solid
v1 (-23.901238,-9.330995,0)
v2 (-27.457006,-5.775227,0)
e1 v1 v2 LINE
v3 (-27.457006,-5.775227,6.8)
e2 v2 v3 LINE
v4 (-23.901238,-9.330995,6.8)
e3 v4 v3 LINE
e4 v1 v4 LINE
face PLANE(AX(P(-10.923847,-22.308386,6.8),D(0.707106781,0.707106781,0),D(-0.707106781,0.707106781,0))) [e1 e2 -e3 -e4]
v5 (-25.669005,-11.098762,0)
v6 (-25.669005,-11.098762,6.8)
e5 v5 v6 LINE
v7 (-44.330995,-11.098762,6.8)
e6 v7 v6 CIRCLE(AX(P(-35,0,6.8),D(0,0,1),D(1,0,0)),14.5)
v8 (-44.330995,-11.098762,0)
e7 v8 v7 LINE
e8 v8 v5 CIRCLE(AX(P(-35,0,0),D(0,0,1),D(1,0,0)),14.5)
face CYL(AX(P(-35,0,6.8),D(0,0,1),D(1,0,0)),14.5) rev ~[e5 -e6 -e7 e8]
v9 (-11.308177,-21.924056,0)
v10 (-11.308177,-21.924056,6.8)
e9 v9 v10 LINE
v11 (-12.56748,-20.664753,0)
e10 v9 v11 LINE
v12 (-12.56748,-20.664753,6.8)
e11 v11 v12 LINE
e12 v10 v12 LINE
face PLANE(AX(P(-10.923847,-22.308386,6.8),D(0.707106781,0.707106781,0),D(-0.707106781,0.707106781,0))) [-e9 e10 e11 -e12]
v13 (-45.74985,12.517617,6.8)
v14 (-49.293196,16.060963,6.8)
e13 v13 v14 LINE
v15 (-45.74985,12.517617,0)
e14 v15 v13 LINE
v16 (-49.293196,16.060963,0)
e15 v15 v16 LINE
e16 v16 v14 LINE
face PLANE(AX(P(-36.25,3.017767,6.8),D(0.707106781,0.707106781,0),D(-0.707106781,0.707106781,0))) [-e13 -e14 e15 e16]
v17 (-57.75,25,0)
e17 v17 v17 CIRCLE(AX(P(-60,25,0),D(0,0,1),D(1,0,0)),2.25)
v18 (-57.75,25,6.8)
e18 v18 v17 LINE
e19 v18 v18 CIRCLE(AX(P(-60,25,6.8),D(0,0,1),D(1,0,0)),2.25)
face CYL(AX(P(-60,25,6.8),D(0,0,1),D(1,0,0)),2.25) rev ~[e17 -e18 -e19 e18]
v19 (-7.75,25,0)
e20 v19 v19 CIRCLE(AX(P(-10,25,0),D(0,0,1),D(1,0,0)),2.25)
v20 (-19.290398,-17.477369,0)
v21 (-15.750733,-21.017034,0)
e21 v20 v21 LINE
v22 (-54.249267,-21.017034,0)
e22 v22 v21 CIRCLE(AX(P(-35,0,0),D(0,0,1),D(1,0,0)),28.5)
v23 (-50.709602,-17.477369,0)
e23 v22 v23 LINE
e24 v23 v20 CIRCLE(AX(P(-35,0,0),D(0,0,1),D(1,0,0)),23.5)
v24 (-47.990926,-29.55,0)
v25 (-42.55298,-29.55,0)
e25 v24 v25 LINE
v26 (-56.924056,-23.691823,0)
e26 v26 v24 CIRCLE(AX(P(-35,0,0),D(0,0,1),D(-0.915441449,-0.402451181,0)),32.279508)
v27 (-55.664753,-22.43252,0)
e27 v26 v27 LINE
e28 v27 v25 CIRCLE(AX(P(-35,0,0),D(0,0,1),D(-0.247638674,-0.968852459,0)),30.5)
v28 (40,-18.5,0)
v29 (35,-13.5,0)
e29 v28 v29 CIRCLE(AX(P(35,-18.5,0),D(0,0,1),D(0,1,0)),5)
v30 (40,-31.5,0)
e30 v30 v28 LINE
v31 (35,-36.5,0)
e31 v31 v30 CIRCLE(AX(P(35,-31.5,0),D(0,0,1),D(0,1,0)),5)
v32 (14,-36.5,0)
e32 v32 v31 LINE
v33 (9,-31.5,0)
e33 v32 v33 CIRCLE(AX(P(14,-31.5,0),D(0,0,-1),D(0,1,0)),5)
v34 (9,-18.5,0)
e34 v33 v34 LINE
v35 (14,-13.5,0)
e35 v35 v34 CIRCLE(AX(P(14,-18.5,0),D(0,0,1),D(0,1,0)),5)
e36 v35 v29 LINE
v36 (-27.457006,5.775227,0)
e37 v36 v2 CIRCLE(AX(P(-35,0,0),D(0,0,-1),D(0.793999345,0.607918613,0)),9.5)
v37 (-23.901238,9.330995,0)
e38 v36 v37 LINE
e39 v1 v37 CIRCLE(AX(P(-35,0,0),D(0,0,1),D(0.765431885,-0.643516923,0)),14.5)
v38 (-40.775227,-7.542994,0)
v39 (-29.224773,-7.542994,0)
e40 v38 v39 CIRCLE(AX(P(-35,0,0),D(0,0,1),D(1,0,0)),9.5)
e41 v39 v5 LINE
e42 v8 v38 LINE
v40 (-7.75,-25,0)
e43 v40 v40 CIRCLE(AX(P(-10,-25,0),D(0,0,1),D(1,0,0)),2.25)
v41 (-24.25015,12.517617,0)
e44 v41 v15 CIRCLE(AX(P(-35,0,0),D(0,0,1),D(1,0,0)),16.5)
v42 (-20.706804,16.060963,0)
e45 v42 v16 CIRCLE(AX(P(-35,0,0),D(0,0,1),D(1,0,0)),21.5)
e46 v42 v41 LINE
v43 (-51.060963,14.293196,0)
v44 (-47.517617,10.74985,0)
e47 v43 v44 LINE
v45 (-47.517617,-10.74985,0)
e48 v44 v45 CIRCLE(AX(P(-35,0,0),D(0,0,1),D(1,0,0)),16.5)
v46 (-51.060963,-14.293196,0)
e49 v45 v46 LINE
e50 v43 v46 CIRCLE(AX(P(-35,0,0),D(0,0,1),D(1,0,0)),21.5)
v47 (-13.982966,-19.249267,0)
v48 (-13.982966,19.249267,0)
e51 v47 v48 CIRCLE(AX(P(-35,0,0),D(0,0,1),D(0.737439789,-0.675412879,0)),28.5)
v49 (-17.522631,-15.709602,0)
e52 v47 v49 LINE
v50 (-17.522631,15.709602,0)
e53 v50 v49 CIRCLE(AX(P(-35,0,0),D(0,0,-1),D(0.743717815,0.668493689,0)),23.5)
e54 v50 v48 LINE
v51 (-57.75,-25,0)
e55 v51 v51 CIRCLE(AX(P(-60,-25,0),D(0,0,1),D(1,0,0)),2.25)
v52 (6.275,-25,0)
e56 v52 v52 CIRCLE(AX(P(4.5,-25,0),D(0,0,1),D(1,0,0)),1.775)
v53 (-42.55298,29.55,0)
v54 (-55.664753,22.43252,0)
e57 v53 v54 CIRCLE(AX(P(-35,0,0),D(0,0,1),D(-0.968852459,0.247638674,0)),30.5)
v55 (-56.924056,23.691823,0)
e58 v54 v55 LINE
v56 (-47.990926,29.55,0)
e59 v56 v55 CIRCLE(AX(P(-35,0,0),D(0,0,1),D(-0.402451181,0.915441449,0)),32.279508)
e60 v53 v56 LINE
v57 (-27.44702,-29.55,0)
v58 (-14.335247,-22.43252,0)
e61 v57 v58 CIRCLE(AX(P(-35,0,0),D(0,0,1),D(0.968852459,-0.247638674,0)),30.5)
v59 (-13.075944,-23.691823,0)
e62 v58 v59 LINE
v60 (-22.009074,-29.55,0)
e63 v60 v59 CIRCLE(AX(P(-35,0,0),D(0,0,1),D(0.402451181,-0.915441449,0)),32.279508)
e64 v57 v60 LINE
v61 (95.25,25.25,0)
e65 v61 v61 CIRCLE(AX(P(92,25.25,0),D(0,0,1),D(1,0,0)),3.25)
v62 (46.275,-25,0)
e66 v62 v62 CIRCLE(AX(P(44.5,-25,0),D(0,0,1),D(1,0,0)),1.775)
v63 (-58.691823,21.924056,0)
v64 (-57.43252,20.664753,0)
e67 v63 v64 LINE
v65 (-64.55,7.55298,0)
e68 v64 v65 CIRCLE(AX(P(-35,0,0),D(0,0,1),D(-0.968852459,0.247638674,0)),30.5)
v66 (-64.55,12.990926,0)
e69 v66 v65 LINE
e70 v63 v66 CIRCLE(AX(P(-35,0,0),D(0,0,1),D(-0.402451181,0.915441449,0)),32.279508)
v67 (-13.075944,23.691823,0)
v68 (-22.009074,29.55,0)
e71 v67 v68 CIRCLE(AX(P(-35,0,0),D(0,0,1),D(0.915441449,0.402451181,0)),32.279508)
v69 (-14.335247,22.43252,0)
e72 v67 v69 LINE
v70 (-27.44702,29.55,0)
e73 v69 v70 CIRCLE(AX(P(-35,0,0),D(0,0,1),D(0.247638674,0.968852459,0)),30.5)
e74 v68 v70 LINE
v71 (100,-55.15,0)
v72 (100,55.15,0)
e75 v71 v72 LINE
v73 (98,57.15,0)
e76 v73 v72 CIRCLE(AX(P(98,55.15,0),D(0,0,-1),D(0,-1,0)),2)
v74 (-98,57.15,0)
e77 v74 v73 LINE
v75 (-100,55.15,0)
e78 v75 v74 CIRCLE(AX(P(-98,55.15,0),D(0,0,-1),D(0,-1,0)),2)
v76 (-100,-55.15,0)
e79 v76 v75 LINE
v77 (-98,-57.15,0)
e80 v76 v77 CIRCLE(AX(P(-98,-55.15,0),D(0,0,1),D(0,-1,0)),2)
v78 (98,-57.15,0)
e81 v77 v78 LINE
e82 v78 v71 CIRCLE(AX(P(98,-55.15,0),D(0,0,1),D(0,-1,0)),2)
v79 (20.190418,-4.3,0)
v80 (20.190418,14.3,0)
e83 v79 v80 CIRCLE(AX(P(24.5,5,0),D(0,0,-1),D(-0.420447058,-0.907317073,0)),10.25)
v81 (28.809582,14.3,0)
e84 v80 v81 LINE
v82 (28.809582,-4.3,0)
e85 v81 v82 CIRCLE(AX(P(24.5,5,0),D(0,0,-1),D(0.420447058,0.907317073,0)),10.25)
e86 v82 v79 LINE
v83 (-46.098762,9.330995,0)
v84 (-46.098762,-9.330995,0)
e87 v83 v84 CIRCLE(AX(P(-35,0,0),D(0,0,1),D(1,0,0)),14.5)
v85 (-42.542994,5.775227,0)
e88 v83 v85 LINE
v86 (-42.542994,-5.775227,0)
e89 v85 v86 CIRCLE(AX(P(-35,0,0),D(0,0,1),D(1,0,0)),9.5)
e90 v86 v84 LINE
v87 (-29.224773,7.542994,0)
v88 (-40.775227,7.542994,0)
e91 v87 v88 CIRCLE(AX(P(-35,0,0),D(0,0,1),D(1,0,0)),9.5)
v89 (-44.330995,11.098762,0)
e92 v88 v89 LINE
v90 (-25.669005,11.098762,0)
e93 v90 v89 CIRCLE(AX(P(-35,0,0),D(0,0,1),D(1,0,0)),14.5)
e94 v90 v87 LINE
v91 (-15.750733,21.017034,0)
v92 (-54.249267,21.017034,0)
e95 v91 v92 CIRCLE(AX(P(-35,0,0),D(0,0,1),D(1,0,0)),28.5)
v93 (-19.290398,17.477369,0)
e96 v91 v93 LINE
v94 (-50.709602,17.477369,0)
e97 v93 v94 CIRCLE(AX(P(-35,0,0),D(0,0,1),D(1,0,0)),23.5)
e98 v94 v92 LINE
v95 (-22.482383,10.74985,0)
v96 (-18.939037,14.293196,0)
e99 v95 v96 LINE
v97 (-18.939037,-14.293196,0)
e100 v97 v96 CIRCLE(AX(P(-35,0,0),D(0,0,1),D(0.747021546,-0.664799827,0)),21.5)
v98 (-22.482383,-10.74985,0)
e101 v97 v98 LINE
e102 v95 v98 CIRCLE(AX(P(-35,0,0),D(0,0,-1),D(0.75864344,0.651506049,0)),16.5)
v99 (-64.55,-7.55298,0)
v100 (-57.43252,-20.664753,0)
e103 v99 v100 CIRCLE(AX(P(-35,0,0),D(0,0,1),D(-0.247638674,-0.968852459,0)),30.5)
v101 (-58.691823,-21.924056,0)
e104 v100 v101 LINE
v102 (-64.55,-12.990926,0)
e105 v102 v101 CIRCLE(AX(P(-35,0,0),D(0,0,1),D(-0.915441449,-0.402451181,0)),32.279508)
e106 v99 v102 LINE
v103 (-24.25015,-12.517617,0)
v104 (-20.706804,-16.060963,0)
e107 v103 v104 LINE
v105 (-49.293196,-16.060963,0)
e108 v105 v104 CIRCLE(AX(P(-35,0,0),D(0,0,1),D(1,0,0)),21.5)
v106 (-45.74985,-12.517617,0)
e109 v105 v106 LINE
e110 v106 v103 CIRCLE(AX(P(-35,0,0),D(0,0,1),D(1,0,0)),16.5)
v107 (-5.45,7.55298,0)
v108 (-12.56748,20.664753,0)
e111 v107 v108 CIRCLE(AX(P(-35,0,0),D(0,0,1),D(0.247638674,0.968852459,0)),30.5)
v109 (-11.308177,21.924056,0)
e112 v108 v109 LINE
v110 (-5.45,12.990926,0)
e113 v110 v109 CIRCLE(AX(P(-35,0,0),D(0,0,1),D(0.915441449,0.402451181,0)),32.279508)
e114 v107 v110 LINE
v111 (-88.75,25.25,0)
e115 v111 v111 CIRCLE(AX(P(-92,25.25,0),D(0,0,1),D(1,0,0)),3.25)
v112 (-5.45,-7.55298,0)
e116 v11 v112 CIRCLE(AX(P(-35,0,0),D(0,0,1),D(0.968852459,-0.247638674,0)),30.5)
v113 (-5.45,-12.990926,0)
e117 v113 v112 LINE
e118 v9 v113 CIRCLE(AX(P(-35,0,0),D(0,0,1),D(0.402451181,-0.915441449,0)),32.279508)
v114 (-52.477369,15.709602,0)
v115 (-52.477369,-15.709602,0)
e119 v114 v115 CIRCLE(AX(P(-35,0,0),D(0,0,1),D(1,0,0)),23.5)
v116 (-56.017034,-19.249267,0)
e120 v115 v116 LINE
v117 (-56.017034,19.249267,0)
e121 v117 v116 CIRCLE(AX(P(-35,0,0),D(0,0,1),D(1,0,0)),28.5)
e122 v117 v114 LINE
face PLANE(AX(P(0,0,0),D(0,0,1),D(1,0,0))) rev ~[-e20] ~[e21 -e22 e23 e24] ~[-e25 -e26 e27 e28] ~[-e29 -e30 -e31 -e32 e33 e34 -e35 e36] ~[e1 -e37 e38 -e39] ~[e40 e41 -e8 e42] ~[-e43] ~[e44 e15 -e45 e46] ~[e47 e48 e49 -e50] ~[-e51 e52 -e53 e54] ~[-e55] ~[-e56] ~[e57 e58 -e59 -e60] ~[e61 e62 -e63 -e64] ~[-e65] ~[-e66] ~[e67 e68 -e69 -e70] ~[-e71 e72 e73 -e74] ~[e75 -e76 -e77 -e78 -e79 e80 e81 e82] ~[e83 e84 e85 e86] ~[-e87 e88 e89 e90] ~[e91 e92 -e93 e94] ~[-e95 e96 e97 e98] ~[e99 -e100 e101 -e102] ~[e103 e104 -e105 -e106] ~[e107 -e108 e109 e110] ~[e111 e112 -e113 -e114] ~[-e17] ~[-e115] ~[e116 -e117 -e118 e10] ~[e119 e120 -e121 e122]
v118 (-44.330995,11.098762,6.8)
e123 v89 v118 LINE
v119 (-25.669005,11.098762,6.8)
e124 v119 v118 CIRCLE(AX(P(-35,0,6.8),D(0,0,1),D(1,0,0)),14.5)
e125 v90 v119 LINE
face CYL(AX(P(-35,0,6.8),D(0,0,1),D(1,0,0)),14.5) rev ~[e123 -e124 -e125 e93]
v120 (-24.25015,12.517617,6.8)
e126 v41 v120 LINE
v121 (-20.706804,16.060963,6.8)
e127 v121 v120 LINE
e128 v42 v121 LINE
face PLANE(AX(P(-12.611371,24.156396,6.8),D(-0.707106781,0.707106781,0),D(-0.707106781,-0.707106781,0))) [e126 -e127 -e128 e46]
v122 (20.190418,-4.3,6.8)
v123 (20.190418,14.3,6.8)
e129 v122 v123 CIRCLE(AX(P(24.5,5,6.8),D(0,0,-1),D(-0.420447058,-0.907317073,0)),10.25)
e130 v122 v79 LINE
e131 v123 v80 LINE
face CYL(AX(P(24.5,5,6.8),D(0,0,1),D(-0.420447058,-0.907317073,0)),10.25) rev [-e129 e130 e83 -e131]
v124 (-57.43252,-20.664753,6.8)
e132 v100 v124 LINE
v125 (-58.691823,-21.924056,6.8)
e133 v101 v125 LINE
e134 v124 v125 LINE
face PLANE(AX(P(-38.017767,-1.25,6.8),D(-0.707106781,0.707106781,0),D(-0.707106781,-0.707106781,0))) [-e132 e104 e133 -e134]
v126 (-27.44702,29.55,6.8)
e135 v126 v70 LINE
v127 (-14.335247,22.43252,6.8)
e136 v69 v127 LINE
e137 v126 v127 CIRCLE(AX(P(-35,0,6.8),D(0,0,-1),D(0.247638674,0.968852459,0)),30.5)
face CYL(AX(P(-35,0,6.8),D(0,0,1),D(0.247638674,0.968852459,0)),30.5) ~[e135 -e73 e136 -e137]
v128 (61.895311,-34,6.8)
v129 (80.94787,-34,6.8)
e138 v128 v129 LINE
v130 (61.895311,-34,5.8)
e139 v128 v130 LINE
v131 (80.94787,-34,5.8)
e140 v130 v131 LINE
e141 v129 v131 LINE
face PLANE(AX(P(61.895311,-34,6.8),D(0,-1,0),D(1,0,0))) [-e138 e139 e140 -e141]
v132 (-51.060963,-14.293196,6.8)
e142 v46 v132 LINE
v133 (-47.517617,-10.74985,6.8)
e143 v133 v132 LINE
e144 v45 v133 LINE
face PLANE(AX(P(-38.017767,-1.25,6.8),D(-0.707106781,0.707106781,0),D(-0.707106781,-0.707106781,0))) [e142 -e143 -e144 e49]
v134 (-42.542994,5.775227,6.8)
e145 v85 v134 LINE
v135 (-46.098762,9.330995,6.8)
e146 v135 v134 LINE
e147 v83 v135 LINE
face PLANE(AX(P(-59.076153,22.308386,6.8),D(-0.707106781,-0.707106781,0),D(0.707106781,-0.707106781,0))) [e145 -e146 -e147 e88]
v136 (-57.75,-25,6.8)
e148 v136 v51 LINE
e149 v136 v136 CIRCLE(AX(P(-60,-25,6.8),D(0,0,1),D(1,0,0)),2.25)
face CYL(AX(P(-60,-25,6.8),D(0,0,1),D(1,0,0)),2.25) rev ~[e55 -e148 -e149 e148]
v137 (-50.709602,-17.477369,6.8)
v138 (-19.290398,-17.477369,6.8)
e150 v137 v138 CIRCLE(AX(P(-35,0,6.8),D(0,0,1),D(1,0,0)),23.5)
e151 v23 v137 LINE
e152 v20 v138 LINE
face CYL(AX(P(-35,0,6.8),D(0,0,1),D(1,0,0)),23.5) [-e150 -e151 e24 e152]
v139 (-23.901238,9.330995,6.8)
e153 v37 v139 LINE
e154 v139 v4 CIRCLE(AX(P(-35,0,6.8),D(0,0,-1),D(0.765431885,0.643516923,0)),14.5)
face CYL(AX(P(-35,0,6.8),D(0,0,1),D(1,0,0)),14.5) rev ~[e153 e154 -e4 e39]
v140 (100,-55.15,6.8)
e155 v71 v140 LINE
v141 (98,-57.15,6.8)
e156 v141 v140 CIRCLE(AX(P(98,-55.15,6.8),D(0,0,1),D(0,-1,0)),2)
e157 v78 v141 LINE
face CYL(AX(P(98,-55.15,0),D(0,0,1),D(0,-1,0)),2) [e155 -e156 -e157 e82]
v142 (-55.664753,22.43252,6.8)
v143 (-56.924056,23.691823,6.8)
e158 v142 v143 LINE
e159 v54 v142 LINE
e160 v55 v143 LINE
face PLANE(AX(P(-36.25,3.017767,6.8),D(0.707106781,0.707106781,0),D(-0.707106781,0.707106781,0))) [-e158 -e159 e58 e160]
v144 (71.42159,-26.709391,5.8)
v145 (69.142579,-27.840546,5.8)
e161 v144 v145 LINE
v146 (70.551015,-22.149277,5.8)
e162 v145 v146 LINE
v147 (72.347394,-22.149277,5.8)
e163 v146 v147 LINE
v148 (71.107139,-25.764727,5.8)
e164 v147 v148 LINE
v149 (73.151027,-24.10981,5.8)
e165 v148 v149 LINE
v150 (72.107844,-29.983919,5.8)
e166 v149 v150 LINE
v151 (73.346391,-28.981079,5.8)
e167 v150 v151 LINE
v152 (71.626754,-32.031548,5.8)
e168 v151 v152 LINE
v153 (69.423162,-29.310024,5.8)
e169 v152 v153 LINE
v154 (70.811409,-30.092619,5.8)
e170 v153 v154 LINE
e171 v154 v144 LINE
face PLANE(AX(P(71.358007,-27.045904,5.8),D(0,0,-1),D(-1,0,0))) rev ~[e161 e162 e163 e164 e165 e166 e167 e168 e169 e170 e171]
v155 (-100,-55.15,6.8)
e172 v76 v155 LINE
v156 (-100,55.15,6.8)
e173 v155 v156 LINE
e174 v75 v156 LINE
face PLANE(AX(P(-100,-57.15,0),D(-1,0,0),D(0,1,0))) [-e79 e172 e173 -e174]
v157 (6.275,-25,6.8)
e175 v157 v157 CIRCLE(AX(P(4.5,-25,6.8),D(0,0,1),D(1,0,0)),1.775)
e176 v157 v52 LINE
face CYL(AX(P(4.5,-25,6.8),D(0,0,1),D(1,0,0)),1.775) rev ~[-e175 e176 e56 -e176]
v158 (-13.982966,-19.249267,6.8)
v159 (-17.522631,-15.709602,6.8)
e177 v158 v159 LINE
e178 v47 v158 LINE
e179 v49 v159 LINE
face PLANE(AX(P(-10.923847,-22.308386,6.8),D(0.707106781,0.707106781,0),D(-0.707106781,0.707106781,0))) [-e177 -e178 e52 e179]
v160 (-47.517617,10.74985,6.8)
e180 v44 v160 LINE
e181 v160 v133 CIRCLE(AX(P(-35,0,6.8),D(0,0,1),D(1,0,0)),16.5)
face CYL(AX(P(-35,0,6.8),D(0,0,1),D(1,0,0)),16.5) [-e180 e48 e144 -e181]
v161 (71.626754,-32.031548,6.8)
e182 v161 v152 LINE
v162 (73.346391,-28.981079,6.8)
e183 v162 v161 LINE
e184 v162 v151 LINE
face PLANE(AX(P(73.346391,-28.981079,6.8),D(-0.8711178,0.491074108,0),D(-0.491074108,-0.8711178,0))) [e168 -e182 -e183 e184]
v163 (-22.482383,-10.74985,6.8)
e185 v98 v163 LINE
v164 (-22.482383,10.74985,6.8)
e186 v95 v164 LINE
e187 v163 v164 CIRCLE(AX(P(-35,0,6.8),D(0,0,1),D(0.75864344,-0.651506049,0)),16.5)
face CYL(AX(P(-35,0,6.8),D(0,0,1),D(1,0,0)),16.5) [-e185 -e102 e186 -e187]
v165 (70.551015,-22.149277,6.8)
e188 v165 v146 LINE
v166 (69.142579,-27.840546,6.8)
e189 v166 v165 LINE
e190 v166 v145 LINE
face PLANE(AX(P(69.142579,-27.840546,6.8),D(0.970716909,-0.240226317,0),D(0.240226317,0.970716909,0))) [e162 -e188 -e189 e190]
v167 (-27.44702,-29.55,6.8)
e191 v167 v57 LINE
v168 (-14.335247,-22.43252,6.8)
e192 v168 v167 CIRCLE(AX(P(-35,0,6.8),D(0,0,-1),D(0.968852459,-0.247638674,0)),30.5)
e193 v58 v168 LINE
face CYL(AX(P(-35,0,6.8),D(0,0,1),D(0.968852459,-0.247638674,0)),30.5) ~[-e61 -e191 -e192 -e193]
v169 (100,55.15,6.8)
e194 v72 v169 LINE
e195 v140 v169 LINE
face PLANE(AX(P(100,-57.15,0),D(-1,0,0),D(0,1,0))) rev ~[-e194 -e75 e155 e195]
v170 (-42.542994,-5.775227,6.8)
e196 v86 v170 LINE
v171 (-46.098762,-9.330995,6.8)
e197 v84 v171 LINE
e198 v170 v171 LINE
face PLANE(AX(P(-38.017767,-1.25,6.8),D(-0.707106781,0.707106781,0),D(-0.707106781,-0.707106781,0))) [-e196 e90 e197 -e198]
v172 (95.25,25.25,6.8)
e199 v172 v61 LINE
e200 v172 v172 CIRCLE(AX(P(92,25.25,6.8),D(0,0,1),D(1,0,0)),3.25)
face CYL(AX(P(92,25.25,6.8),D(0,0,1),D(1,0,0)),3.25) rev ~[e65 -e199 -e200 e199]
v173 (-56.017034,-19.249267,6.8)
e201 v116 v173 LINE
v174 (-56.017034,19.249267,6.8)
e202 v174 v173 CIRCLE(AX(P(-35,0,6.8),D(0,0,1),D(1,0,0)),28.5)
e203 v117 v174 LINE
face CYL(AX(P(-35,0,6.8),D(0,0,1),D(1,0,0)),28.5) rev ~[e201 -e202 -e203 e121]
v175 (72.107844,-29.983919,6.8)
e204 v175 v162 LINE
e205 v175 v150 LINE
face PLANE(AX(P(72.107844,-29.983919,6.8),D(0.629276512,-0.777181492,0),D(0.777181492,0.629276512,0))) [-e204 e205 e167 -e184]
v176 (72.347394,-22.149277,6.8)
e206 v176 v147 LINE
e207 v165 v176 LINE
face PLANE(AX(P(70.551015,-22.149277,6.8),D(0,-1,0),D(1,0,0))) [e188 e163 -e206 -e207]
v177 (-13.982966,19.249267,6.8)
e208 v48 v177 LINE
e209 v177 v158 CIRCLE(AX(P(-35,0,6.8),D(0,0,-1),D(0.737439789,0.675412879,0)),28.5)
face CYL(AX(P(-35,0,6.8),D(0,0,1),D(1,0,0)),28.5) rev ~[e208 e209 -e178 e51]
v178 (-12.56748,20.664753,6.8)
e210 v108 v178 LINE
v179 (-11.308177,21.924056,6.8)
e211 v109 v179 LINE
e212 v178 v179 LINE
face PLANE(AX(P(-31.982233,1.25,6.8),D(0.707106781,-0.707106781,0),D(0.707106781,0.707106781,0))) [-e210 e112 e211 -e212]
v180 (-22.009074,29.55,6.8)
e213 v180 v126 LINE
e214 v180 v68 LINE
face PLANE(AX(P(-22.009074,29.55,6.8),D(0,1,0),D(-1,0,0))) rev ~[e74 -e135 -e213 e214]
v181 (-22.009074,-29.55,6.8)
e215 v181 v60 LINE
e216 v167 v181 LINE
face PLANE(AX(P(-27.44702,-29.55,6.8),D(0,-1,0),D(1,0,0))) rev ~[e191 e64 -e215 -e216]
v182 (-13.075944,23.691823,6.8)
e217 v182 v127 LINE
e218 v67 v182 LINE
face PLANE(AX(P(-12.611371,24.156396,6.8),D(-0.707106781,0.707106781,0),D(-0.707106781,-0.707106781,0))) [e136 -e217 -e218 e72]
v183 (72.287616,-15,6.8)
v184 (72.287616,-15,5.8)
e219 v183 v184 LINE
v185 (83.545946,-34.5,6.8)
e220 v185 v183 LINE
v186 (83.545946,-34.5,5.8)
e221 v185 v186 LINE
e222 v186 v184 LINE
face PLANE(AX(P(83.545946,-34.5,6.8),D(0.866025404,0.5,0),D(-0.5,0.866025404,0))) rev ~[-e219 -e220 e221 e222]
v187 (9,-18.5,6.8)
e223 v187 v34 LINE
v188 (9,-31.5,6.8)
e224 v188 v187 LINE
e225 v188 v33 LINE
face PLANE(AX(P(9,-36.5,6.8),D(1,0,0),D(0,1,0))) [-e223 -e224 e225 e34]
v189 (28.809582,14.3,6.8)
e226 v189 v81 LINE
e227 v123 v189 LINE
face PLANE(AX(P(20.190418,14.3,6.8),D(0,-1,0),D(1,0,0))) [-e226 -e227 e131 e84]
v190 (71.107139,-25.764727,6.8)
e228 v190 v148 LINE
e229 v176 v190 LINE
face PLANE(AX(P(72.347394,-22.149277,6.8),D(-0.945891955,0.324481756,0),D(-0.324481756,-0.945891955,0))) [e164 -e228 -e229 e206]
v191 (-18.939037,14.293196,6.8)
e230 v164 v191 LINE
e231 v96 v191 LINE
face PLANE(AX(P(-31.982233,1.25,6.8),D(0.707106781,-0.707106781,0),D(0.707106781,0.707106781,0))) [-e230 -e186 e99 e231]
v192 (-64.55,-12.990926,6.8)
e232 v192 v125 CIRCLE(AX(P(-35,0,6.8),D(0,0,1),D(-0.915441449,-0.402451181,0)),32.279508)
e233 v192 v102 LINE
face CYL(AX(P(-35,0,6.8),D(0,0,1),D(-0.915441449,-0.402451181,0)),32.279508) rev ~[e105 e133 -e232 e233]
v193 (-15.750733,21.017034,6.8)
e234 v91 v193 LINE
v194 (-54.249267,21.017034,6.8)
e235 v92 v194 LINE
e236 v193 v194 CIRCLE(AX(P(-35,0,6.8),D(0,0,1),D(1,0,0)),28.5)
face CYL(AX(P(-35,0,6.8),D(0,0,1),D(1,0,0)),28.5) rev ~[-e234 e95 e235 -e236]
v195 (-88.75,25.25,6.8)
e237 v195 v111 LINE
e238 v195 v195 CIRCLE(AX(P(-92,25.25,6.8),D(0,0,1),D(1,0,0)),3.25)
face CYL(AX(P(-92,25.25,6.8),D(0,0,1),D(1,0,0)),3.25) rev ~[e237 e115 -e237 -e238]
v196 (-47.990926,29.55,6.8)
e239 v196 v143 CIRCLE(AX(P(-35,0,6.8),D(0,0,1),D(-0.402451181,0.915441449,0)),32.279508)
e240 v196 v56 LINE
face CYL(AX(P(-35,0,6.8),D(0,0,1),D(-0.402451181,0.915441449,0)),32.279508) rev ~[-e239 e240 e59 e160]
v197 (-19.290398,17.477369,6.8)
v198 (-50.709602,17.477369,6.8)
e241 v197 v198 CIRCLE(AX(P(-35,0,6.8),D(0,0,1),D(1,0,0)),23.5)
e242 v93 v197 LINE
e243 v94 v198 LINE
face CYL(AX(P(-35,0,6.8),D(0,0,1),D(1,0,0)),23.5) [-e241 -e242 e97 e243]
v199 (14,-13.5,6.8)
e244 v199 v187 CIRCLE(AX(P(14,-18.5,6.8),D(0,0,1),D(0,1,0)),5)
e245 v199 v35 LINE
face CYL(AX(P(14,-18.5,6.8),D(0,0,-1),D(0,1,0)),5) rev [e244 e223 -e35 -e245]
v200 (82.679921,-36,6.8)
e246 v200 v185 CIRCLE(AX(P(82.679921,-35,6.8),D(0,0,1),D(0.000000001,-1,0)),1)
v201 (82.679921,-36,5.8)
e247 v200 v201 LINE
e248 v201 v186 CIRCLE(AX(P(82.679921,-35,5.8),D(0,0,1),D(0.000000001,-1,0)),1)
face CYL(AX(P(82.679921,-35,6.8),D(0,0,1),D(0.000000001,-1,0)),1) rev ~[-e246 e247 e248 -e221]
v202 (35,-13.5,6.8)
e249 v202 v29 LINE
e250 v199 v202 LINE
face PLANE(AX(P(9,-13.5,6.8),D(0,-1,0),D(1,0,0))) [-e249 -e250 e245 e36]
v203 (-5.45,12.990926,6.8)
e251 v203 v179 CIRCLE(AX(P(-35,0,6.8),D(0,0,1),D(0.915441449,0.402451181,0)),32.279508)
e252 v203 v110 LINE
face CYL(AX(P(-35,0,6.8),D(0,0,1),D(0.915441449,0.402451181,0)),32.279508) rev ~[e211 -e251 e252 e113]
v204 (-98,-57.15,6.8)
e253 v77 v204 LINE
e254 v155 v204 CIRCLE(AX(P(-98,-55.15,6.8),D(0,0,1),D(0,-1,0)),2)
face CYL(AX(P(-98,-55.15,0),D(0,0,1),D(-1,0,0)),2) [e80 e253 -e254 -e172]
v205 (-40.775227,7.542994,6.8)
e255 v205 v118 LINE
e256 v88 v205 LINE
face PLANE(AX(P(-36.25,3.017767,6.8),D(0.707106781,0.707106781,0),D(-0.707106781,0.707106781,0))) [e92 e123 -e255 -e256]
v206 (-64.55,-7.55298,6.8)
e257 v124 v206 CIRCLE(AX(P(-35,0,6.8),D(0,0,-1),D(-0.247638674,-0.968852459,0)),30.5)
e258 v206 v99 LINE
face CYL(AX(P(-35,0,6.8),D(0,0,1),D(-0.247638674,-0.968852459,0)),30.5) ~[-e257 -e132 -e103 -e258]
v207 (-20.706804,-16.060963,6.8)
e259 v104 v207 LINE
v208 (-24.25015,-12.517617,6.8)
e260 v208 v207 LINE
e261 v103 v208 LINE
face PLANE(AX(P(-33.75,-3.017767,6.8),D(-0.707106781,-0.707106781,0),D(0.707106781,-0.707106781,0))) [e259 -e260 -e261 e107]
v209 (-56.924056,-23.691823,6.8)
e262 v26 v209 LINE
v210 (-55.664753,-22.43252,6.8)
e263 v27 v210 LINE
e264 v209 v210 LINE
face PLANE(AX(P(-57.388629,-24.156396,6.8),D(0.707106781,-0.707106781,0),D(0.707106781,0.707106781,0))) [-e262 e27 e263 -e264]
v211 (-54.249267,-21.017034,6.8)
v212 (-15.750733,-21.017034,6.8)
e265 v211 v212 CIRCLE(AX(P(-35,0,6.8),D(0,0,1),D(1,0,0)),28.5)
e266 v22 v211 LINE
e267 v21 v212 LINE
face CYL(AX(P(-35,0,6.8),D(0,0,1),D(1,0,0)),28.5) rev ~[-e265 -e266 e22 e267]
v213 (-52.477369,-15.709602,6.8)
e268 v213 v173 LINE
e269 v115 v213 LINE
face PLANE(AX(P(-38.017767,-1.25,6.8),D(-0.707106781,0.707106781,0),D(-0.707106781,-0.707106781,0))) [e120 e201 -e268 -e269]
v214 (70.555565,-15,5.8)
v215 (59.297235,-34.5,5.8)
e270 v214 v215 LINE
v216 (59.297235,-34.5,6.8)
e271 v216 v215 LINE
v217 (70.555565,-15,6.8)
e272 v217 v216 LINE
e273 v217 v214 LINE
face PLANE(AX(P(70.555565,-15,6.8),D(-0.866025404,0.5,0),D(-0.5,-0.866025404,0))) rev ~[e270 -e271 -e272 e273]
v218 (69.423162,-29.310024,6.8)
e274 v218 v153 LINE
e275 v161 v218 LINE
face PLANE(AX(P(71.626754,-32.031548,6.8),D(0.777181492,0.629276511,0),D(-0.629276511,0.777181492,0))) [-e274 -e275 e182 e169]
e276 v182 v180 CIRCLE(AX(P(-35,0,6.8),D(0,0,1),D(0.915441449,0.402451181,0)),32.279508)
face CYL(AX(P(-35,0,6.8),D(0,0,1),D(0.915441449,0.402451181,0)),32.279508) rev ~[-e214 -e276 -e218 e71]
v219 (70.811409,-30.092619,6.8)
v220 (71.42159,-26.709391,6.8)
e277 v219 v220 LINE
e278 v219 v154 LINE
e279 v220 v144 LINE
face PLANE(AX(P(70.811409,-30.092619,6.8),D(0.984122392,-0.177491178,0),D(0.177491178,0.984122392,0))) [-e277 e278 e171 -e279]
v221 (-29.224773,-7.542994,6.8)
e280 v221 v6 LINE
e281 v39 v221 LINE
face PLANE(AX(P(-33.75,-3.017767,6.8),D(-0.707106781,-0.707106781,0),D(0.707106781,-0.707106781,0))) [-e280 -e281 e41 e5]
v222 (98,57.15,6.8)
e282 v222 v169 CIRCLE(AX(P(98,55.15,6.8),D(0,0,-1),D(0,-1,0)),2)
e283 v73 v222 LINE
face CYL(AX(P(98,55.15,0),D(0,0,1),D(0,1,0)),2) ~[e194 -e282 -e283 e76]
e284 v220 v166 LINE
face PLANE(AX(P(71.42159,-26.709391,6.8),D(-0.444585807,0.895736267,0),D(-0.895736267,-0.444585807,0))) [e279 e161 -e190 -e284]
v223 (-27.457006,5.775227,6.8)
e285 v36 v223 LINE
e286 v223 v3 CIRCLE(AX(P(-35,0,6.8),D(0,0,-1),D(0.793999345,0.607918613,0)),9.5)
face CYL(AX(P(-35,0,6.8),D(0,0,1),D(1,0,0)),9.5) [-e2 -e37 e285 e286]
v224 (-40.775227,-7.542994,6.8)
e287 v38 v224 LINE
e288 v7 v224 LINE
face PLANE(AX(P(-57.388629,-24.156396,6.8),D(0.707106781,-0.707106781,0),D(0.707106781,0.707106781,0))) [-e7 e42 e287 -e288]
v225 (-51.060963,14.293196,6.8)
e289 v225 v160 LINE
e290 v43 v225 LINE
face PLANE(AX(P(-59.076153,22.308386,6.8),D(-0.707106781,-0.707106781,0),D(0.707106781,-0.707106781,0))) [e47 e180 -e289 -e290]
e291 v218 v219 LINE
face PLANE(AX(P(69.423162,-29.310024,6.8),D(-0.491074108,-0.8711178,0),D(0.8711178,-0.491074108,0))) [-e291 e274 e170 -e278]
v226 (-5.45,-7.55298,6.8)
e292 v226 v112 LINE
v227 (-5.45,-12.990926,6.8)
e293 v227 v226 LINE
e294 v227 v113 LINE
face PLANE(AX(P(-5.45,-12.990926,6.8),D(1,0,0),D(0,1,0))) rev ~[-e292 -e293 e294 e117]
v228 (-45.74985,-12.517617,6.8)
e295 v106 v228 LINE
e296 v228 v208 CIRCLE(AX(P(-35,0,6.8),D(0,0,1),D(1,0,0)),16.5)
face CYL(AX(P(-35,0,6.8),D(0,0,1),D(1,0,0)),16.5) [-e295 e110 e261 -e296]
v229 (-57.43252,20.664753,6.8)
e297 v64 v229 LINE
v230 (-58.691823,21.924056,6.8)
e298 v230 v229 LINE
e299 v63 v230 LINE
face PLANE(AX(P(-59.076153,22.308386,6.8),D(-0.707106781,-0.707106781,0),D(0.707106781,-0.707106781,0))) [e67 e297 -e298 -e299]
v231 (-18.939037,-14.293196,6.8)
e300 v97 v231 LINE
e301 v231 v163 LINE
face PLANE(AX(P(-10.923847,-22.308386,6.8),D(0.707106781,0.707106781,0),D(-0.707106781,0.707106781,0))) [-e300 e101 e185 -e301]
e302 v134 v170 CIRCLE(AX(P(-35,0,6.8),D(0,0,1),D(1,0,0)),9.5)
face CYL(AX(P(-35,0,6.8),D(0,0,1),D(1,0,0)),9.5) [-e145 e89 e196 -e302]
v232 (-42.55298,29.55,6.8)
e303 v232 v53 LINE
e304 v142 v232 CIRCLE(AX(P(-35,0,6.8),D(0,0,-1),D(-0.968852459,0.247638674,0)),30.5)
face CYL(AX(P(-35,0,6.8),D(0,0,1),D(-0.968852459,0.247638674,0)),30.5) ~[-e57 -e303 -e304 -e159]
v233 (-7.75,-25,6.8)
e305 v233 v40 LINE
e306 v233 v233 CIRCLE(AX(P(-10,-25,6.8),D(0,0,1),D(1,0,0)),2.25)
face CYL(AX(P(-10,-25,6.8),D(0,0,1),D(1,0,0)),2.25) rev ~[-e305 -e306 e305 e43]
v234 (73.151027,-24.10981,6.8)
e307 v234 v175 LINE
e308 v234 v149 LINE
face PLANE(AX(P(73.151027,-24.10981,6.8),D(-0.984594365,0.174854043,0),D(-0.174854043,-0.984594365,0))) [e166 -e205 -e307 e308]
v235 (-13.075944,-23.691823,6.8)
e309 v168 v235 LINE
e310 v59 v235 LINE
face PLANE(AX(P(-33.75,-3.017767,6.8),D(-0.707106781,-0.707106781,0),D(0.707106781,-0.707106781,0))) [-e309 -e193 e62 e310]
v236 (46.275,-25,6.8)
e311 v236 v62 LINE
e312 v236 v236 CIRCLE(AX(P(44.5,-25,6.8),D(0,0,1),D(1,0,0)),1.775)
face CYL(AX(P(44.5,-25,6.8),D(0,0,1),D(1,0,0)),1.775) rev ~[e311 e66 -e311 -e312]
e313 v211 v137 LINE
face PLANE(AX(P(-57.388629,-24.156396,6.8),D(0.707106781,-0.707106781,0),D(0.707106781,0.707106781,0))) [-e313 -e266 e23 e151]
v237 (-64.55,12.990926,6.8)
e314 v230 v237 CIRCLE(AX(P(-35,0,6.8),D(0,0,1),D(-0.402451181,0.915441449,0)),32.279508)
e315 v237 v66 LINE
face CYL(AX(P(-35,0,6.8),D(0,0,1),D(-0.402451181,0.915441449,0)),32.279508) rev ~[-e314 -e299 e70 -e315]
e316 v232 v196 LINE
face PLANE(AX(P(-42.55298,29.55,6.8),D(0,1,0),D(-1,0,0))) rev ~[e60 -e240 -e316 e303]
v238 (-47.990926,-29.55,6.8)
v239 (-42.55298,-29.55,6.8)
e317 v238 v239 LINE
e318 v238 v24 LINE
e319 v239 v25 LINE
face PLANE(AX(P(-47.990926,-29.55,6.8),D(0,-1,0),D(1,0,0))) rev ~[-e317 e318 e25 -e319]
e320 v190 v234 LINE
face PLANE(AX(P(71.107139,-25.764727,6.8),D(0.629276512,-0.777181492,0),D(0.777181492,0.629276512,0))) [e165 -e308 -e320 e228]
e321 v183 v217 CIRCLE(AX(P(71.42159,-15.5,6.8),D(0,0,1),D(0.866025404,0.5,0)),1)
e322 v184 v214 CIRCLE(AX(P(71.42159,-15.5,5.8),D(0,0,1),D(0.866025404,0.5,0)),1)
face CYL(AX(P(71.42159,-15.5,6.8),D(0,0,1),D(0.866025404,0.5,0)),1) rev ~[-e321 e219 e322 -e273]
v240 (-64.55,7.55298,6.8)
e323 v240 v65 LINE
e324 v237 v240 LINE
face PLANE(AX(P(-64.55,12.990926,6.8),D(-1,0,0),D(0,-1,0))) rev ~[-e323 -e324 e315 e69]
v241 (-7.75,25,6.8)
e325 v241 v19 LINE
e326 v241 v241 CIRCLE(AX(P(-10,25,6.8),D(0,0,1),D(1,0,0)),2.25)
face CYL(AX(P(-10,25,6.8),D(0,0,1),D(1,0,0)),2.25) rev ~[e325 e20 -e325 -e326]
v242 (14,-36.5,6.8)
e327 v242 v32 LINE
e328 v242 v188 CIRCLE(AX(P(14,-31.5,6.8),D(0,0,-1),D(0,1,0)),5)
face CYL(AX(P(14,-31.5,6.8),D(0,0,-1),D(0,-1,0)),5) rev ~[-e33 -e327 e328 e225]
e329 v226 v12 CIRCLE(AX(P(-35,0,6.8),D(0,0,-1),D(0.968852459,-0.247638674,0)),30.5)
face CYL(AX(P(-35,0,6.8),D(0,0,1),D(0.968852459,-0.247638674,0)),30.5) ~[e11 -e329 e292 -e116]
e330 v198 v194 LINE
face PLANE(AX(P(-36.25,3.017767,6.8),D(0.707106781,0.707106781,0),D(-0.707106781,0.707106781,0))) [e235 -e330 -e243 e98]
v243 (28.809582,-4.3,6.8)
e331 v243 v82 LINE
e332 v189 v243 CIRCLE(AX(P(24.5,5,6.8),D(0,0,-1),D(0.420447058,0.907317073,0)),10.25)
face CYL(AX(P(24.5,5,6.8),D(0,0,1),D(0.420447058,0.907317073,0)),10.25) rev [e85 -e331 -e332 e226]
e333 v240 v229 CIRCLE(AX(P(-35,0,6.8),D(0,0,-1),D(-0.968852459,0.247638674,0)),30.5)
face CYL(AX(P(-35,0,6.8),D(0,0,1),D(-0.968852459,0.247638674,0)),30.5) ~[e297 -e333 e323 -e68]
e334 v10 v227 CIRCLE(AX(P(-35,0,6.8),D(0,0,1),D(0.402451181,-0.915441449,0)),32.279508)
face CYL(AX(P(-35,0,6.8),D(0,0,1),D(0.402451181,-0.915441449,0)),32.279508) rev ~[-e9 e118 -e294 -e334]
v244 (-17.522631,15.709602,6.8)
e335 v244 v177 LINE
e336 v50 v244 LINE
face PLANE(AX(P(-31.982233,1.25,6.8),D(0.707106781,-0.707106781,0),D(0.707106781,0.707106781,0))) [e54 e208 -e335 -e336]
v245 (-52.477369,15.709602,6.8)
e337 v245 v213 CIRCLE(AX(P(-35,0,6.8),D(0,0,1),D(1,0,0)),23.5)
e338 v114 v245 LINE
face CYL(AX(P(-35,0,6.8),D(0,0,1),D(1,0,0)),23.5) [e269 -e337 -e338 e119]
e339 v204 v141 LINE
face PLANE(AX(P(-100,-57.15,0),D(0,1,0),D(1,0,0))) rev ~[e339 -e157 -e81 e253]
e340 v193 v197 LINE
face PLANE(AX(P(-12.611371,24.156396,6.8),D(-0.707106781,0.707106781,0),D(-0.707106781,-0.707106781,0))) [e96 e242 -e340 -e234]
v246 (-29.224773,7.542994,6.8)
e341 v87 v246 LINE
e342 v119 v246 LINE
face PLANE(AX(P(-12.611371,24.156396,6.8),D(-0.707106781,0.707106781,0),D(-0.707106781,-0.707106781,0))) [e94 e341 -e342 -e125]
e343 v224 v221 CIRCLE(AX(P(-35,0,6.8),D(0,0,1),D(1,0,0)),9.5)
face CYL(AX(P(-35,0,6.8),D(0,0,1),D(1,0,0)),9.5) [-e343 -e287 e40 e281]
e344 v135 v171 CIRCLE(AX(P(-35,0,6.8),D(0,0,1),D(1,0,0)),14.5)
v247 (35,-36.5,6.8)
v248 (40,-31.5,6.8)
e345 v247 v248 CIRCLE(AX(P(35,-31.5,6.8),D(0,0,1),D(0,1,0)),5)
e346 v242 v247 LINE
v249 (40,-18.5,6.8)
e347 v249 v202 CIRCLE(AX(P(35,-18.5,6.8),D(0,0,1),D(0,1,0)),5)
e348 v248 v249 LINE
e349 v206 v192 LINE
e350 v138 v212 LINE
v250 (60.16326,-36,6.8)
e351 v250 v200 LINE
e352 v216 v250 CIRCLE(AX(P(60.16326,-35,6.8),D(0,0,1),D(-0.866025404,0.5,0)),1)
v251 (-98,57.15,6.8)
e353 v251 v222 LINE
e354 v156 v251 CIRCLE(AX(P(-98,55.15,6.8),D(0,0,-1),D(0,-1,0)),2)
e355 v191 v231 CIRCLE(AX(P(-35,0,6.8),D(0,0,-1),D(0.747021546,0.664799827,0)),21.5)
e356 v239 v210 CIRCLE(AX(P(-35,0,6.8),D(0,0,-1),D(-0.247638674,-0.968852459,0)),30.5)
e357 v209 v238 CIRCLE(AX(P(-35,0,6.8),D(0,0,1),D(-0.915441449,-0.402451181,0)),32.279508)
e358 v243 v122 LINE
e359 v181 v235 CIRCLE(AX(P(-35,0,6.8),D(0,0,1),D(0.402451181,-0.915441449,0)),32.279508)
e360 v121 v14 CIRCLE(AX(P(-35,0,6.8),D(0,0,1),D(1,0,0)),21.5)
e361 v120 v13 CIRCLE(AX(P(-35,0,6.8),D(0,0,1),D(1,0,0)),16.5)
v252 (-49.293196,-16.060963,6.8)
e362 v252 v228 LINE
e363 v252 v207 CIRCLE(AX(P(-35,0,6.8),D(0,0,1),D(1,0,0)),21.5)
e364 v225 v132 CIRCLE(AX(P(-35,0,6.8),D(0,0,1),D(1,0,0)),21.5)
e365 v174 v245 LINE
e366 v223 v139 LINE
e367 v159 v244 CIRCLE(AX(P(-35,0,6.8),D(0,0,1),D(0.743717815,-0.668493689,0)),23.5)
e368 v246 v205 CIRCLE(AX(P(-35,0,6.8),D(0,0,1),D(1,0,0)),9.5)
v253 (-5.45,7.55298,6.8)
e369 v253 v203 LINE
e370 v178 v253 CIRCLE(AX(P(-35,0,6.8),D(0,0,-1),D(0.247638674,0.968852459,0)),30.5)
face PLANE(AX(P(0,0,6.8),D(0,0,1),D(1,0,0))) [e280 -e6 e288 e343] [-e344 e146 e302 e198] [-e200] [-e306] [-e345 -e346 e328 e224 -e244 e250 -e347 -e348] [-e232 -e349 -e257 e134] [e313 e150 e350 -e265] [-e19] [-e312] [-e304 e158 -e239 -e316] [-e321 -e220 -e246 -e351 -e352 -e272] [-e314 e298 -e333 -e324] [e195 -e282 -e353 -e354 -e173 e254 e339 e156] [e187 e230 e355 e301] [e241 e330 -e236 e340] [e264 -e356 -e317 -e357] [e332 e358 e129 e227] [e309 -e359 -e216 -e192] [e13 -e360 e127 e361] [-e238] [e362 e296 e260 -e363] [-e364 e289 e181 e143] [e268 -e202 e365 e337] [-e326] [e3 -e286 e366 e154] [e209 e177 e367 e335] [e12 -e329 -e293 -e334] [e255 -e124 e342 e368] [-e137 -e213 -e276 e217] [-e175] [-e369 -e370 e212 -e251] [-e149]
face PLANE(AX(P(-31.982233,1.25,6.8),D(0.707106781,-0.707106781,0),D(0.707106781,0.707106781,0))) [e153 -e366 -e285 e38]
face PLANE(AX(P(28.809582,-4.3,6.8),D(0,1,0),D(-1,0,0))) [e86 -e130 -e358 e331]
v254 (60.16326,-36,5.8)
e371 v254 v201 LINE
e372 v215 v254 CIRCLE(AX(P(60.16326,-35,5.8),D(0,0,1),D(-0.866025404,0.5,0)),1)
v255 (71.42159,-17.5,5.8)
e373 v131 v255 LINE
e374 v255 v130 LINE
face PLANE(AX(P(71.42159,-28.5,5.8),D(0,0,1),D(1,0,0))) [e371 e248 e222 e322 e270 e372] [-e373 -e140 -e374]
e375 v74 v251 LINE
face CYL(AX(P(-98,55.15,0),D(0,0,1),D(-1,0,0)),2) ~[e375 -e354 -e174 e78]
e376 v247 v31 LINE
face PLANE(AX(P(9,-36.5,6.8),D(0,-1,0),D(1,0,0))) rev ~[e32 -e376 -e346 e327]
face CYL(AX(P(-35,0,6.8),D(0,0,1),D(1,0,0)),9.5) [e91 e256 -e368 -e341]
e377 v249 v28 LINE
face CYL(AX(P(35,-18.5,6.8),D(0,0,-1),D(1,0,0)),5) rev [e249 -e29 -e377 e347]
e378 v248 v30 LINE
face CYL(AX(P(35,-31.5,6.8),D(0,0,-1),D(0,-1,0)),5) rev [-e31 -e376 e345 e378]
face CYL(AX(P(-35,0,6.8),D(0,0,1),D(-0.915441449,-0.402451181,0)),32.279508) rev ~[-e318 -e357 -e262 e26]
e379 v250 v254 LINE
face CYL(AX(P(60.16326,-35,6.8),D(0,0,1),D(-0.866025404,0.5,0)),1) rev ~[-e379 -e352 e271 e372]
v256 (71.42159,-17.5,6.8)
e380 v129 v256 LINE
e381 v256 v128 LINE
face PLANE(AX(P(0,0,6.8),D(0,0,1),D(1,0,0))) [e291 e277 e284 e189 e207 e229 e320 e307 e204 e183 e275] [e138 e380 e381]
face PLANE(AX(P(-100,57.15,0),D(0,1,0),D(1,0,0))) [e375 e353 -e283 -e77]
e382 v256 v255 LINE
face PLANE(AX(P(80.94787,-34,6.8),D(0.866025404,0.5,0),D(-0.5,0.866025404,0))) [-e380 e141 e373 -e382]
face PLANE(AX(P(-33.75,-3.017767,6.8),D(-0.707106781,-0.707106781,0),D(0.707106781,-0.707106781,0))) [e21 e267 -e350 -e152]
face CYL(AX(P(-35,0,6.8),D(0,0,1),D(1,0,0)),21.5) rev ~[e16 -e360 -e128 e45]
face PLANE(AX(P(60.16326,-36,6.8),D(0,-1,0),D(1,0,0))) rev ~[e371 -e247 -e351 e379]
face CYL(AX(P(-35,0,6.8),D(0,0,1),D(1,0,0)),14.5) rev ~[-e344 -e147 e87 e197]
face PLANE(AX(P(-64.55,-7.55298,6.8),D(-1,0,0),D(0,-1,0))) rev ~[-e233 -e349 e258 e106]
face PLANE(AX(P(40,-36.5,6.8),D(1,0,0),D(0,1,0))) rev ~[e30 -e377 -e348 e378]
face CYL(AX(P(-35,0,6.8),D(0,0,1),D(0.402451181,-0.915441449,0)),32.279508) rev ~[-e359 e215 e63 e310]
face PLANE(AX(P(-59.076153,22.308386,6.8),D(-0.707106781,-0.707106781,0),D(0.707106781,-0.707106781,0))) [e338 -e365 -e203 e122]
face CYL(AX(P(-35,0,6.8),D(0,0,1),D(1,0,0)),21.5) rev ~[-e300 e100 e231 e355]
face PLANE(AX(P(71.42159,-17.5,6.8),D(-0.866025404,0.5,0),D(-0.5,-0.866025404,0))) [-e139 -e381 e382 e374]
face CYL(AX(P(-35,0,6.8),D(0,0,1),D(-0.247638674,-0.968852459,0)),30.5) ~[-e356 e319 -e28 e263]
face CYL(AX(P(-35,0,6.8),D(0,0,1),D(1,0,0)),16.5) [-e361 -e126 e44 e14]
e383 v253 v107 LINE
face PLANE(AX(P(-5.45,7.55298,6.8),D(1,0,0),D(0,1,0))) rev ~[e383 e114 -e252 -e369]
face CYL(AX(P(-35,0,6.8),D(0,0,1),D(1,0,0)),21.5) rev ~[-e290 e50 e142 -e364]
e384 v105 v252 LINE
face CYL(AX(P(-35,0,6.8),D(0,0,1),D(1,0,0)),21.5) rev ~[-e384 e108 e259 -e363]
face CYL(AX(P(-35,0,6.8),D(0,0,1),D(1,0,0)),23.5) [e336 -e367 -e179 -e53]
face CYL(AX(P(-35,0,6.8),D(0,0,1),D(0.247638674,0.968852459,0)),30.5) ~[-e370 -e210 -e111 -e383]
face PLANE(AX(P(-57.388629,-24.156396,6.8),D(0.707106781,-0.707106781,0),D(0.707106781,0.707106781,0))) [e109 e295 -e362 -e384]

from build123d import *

# Parameters (mm, degrees)
SKETCH1_W           = 200
SKETCH1_H           = 114.3
BOSS_EXTRUDE1_DEPTH = 6.8
SKETCH2_R           = 3.25
CUT_EXTRUDE1_DEPTH  = 6.8
FILLET1_R           = 2
SKETCH3_R           = 1.775
SKETCH3_W           = 31
SKETCH3_H           = 23
CUT_EXTRUDE2_DEPTH  = 6.8
FILLET2_R           = 5
SKETCH4_R           = 28.5
SKETCH4_R_2         = 23.5
SKETCH4_R_3         = 21.5
SKETCH4_R_4         = 16.5
SKETCH4_R_5         = 14.5
SKETCH4_R_6         = 9.5
SKETCH4_R_7         = 2.25
CUT_EXTRUDE3_DEPTH  = 116.379211732
BOSS_EXTRUDE7_DEPTH = 6.8
CUT_EXTRUDE6_DEPTH  = 1


with BuildPart() as part:
    # Sketch1 → Boss-Extrude1 (new body)
    with BuildSketch(Plane.XY):
        Rectangle(SKETCH1_W, SKETCH1_H)
    extrude(amount=BOSS_EXTRUDE1_DEPTH)

    # Sketch2 → Cut-Extrude1 (cut)
    with BuildSketch(Plane.XY.offset(6.8)):
        with Locations((-92, 25.25)):
            Circle(SKETCH2_R)
        with Locations((92, 25.25)):
            Circle(SKETCH2_R)
    extrude(amount=-CUT_EXTRUDE1_DEPTH, mode=Mode.SUBTRACT)

    # Fillet1
    fillet1_edges = [part.edges().sort_by_distance(p)[0] for p in [
        (-100, 57.15, 3.4),
        (100, 57.15, 3.4),
        (100, -57.15, 3.4),
        (-100, -57.15, 3.4),
    ]]
    fillet(fillet1_edges, radius=FILLET1_R)

    # Sketch3 → Cut-Extrude2 (cut)
    with BuildSketch(Plane.XY.offset(6.8)):
        with Locations((4.5, -25)):
            Circle(SKETCH3_R)
        with Locations((44.5, -25)):
            Circle(SKETCH3_R)
        with Locations((24.5, -25)):
            Rectangle(SKETCH3_W, SKETCH3_H)
        with BuildLine():
            Line((20.190417654, 14.3), (28.809582346, 14.3))
            ThreePointArc((28.809582346, 14.3), (34.75, 5), (28.809582346, -4.3))
            Line((28.809582346, -4.3), (20.190417654, -4.3))
            ThreePointArc((20.190417654, -4.3), (14.25, 5), (20.190417654, 14.3))
        make_face()
    extrude(amount=-CUT_EXTRUDE2_DEPTH, mode=Mode.SUBTRACT)

    # Fillet2
    fillet2_edges = [part.edges().sort_by_distance(p)[0] for p in [
        (40, -13.5, 3.4),
        (40, -36.5, 3.4),
        (9, -36.5, 3.4),
        (9, -13.5, 3.4),
    ]]
    fillet(fillet2_edges, radius=FILLET2_R)

    # Sketch4 → Cut-Extrude3 (cut, through all)
    with BuildSketch(Plane.XY.offset(6.8)):
        with Locations((-35, 0)):
            Circle(SKETCH4_R)
        with Locations((-35, 0)):
            Circle(SKETCH4_R_2, mode=Mode.SUBTRACT)
        with Locations((-35, 0)):
            Circle(SKETCH4_R_3)
        with Locations((-35, 0)):
            Circle(SKETCH4_R_4, mode=Mode.SUBTRACT)
        with Locations((-35, 0)):
            Circle(SKETCH4_R_5)
        with Locations((-35, 0)):
            Circle(SKETCH4_R_6, mode=Mode.SUBTRACT)
        with BuildLine():
            Line((-22.009073716, 29.55), (-27.447020455, 29.55))
            ThreePointArc((-27.447020455, 29.55), (-13.433243174, 21.566756826), (-5.45, 7.552979545))
            Line((-5.45, 7.552979545), (-5.45, 12.990926284))
            ThreePointArc((-5.45, 12.990926284), (-12.174940682, 22.825059318), (-22.009073716, 29.55))
        make_face()
        with BuildLine():
            ThreePointArc((-47.990926284, 29.55), (-57.825059318, 22.825059318), (-64.55, 12.990926284))
            Line((-64.55, 12.990926284), (-64.55, 7.552979545))
            ThreePointArc((-64.55, 7.552979545), (-56.566756826, 21.566756826), (-42.552979545, 29.55))
            Line((-42.552979545, 29.55), (-47.990926284, 29.55))
        make_face()
        with BuildLine():
            ThreePointArc((-42.552979545, -29.55), (-56.566756826, -21.566756826), (-64.55, -7.552979545))
            Line((-64.55, -7.552979545), (-64.55, -12.990926284))
            ThreePointArc((-64.55, -12.990926284), (-57.825059318, -22.825059318), (-47.990926284, -29.55))
            Line((-47.990926284, -29.55), (-42.552979545, -29.55))
        make_face()
        with BuildLine():
            ThreePointArc((-5.45, -7.552979545), (-13.433243174, -21.566756826), (-27.447020455, -29.55))
            Line((-27.447020455, -29.55), (-22.009073716, -29.55))
            ThreePointArc((-22.009073716, -29.55), (-12.174940682, -22.825059318), (-5.45, -12.990926284))
            Line((-5.45, -12.990926284), (-5.45, -7.552979545))
        make_face()
        with Locations((-10, -25)):
            Circle(SKETCH4_R_7)
        with Locations((-60, -25)):
            Circle(SKETCH4_R_7)
        with Locations((-60, 25)):
            Circle(SKETCH4_R_7)
        with Locations((-10, 25)):
            Circle(SKETCH4_R_7)
    extrude(amount=-CUT_EXTRUDE3_DEPTH, mode=Mode.SUBTRACT)


with BuildPart() as cut_extrude3_piece_1:
    # of the separate pieces the step leaves, piece 1, a body of its own (cut_extrude3_pieces)
    add(part.part.solids().sort_by_distance((98, -57.15, 0))[0])



with BuildPart() as cut_extrude3_piece_2:
    # of the separate pieces the step leaves, piece 2, a body of its own (cut_extrude3_pieces)
    add(part.part.solids().sort_by_distance((-25.5, 0, 0))[0])


with BuildPart() as cut_extrude3_piece_3:
    # of the separate pieces the step leaves, piece 3, a body of its own (cut_extrude3_pieces)
    add(part.part.solids().sort_by_distance((-11.5, 0, 0))[0])


with BuildPart() as cut_extrude3_piece_4:
    # of the separate pieces the step leaves, piece 4, a body of its own (cut_extrude3_pieces)
    add(part.part.solids().sort_by_distance((-18.5, 0, 0))[0])


with BuildPart() as cut_extrude3_piece_1_1:
    add(cut_extrude3_piece_1.part)

    add(cut_extrude3_piece_2.part)  # Boss-Extrude7 merges Cut-Extrude3 piece 2

    add(cut_extrude3_piece_3.part)  # Boss-Extrude7 merges Cut-Extrude3 piece 3

    add(cut_extrude3_piece_4.part)  # Boss-Extrude7 merges Cut-Extrude3 piece 4
    # Sketch9 → Boss-Extrude7 (add)
    with BuildSketch(Plane.XY.offset(6.8)):
        Polygon((-31.982233047, 1.25), (-10.843604319, 22.388628728), (-12.611371272, 24.156395681), (-33.75, 3.017766953), (-33.75, 1.25), align=None)
        Polygon((-10.923846691, -22.308386356), (-31.982233047, -1.25), (-33.75, -1.25), (-33.75, -3.017766953), (-12.691613644, -24.076153309), align=None)
        Polygon((-36.25, 1.25), (-36.25, 3.017766953), (-57.308386356, 24.076153309), (-59.076153309, 22.308386356), (-38.017766953, 1.25), align=None)
        Polygon((-57.388628728, -24.156395681), (-36.25, -3.017766953), (-36.25, -1.25), (-38.017766953, -1.25), (-59.156395681, -22.388628728), align=None)
    extrude(amount=-BOSS_EXTRUDE7_DEPTH)

    # Sketch6 → Cut-Extrude6 (cut)
    with BuildSketch(Plane.XY.offset(6.8)):
        with BuildLine():
            Line((83.545946103, -34.5), (72.287615854, -15))
            ThreePointArc((72.287615854, -15), (71.42159045, -14.5), (70.555565047, -15))
            Line((70.555565047, -15), (59.297234797, -34.5))
            ThreePointArc((59.297234797, -34.5), (59.297234797, -35.5), (60.163260201, -36))
            Line((60.163260201, -36), (82.6799207, -36))
            ThreePointArc((82.6799207, -36), (83.545946103, -35.5), (83.545946103, -34.5))
        make_face()
        Polygon((61.895311009, -34), (80.947869892, -34), (71.42159045, -17.5), align=None, mode=Mode.SUBTRACT)
        Polygon((69.142579413, -27.8405455), (70.551015324, -22.149276649), (72.347394106, -22.149276649), (71.107138719, -25.764726734), (73.151026627, -24.109810005), (72.107844017, -29.983919065), (73.346390955, -28.98107931), (71.626753961, -32.031548417), (69.423161567, -29.310024263), (70.811409093, -30.092619241), (71.42159045, -26.709391164), align=None)
    extrude(amount=-CUT_EXTRUDE6_DEPTH, mode=Mode.SUBTRACT)


solid = cut_extrude3_piece_1_1.part
